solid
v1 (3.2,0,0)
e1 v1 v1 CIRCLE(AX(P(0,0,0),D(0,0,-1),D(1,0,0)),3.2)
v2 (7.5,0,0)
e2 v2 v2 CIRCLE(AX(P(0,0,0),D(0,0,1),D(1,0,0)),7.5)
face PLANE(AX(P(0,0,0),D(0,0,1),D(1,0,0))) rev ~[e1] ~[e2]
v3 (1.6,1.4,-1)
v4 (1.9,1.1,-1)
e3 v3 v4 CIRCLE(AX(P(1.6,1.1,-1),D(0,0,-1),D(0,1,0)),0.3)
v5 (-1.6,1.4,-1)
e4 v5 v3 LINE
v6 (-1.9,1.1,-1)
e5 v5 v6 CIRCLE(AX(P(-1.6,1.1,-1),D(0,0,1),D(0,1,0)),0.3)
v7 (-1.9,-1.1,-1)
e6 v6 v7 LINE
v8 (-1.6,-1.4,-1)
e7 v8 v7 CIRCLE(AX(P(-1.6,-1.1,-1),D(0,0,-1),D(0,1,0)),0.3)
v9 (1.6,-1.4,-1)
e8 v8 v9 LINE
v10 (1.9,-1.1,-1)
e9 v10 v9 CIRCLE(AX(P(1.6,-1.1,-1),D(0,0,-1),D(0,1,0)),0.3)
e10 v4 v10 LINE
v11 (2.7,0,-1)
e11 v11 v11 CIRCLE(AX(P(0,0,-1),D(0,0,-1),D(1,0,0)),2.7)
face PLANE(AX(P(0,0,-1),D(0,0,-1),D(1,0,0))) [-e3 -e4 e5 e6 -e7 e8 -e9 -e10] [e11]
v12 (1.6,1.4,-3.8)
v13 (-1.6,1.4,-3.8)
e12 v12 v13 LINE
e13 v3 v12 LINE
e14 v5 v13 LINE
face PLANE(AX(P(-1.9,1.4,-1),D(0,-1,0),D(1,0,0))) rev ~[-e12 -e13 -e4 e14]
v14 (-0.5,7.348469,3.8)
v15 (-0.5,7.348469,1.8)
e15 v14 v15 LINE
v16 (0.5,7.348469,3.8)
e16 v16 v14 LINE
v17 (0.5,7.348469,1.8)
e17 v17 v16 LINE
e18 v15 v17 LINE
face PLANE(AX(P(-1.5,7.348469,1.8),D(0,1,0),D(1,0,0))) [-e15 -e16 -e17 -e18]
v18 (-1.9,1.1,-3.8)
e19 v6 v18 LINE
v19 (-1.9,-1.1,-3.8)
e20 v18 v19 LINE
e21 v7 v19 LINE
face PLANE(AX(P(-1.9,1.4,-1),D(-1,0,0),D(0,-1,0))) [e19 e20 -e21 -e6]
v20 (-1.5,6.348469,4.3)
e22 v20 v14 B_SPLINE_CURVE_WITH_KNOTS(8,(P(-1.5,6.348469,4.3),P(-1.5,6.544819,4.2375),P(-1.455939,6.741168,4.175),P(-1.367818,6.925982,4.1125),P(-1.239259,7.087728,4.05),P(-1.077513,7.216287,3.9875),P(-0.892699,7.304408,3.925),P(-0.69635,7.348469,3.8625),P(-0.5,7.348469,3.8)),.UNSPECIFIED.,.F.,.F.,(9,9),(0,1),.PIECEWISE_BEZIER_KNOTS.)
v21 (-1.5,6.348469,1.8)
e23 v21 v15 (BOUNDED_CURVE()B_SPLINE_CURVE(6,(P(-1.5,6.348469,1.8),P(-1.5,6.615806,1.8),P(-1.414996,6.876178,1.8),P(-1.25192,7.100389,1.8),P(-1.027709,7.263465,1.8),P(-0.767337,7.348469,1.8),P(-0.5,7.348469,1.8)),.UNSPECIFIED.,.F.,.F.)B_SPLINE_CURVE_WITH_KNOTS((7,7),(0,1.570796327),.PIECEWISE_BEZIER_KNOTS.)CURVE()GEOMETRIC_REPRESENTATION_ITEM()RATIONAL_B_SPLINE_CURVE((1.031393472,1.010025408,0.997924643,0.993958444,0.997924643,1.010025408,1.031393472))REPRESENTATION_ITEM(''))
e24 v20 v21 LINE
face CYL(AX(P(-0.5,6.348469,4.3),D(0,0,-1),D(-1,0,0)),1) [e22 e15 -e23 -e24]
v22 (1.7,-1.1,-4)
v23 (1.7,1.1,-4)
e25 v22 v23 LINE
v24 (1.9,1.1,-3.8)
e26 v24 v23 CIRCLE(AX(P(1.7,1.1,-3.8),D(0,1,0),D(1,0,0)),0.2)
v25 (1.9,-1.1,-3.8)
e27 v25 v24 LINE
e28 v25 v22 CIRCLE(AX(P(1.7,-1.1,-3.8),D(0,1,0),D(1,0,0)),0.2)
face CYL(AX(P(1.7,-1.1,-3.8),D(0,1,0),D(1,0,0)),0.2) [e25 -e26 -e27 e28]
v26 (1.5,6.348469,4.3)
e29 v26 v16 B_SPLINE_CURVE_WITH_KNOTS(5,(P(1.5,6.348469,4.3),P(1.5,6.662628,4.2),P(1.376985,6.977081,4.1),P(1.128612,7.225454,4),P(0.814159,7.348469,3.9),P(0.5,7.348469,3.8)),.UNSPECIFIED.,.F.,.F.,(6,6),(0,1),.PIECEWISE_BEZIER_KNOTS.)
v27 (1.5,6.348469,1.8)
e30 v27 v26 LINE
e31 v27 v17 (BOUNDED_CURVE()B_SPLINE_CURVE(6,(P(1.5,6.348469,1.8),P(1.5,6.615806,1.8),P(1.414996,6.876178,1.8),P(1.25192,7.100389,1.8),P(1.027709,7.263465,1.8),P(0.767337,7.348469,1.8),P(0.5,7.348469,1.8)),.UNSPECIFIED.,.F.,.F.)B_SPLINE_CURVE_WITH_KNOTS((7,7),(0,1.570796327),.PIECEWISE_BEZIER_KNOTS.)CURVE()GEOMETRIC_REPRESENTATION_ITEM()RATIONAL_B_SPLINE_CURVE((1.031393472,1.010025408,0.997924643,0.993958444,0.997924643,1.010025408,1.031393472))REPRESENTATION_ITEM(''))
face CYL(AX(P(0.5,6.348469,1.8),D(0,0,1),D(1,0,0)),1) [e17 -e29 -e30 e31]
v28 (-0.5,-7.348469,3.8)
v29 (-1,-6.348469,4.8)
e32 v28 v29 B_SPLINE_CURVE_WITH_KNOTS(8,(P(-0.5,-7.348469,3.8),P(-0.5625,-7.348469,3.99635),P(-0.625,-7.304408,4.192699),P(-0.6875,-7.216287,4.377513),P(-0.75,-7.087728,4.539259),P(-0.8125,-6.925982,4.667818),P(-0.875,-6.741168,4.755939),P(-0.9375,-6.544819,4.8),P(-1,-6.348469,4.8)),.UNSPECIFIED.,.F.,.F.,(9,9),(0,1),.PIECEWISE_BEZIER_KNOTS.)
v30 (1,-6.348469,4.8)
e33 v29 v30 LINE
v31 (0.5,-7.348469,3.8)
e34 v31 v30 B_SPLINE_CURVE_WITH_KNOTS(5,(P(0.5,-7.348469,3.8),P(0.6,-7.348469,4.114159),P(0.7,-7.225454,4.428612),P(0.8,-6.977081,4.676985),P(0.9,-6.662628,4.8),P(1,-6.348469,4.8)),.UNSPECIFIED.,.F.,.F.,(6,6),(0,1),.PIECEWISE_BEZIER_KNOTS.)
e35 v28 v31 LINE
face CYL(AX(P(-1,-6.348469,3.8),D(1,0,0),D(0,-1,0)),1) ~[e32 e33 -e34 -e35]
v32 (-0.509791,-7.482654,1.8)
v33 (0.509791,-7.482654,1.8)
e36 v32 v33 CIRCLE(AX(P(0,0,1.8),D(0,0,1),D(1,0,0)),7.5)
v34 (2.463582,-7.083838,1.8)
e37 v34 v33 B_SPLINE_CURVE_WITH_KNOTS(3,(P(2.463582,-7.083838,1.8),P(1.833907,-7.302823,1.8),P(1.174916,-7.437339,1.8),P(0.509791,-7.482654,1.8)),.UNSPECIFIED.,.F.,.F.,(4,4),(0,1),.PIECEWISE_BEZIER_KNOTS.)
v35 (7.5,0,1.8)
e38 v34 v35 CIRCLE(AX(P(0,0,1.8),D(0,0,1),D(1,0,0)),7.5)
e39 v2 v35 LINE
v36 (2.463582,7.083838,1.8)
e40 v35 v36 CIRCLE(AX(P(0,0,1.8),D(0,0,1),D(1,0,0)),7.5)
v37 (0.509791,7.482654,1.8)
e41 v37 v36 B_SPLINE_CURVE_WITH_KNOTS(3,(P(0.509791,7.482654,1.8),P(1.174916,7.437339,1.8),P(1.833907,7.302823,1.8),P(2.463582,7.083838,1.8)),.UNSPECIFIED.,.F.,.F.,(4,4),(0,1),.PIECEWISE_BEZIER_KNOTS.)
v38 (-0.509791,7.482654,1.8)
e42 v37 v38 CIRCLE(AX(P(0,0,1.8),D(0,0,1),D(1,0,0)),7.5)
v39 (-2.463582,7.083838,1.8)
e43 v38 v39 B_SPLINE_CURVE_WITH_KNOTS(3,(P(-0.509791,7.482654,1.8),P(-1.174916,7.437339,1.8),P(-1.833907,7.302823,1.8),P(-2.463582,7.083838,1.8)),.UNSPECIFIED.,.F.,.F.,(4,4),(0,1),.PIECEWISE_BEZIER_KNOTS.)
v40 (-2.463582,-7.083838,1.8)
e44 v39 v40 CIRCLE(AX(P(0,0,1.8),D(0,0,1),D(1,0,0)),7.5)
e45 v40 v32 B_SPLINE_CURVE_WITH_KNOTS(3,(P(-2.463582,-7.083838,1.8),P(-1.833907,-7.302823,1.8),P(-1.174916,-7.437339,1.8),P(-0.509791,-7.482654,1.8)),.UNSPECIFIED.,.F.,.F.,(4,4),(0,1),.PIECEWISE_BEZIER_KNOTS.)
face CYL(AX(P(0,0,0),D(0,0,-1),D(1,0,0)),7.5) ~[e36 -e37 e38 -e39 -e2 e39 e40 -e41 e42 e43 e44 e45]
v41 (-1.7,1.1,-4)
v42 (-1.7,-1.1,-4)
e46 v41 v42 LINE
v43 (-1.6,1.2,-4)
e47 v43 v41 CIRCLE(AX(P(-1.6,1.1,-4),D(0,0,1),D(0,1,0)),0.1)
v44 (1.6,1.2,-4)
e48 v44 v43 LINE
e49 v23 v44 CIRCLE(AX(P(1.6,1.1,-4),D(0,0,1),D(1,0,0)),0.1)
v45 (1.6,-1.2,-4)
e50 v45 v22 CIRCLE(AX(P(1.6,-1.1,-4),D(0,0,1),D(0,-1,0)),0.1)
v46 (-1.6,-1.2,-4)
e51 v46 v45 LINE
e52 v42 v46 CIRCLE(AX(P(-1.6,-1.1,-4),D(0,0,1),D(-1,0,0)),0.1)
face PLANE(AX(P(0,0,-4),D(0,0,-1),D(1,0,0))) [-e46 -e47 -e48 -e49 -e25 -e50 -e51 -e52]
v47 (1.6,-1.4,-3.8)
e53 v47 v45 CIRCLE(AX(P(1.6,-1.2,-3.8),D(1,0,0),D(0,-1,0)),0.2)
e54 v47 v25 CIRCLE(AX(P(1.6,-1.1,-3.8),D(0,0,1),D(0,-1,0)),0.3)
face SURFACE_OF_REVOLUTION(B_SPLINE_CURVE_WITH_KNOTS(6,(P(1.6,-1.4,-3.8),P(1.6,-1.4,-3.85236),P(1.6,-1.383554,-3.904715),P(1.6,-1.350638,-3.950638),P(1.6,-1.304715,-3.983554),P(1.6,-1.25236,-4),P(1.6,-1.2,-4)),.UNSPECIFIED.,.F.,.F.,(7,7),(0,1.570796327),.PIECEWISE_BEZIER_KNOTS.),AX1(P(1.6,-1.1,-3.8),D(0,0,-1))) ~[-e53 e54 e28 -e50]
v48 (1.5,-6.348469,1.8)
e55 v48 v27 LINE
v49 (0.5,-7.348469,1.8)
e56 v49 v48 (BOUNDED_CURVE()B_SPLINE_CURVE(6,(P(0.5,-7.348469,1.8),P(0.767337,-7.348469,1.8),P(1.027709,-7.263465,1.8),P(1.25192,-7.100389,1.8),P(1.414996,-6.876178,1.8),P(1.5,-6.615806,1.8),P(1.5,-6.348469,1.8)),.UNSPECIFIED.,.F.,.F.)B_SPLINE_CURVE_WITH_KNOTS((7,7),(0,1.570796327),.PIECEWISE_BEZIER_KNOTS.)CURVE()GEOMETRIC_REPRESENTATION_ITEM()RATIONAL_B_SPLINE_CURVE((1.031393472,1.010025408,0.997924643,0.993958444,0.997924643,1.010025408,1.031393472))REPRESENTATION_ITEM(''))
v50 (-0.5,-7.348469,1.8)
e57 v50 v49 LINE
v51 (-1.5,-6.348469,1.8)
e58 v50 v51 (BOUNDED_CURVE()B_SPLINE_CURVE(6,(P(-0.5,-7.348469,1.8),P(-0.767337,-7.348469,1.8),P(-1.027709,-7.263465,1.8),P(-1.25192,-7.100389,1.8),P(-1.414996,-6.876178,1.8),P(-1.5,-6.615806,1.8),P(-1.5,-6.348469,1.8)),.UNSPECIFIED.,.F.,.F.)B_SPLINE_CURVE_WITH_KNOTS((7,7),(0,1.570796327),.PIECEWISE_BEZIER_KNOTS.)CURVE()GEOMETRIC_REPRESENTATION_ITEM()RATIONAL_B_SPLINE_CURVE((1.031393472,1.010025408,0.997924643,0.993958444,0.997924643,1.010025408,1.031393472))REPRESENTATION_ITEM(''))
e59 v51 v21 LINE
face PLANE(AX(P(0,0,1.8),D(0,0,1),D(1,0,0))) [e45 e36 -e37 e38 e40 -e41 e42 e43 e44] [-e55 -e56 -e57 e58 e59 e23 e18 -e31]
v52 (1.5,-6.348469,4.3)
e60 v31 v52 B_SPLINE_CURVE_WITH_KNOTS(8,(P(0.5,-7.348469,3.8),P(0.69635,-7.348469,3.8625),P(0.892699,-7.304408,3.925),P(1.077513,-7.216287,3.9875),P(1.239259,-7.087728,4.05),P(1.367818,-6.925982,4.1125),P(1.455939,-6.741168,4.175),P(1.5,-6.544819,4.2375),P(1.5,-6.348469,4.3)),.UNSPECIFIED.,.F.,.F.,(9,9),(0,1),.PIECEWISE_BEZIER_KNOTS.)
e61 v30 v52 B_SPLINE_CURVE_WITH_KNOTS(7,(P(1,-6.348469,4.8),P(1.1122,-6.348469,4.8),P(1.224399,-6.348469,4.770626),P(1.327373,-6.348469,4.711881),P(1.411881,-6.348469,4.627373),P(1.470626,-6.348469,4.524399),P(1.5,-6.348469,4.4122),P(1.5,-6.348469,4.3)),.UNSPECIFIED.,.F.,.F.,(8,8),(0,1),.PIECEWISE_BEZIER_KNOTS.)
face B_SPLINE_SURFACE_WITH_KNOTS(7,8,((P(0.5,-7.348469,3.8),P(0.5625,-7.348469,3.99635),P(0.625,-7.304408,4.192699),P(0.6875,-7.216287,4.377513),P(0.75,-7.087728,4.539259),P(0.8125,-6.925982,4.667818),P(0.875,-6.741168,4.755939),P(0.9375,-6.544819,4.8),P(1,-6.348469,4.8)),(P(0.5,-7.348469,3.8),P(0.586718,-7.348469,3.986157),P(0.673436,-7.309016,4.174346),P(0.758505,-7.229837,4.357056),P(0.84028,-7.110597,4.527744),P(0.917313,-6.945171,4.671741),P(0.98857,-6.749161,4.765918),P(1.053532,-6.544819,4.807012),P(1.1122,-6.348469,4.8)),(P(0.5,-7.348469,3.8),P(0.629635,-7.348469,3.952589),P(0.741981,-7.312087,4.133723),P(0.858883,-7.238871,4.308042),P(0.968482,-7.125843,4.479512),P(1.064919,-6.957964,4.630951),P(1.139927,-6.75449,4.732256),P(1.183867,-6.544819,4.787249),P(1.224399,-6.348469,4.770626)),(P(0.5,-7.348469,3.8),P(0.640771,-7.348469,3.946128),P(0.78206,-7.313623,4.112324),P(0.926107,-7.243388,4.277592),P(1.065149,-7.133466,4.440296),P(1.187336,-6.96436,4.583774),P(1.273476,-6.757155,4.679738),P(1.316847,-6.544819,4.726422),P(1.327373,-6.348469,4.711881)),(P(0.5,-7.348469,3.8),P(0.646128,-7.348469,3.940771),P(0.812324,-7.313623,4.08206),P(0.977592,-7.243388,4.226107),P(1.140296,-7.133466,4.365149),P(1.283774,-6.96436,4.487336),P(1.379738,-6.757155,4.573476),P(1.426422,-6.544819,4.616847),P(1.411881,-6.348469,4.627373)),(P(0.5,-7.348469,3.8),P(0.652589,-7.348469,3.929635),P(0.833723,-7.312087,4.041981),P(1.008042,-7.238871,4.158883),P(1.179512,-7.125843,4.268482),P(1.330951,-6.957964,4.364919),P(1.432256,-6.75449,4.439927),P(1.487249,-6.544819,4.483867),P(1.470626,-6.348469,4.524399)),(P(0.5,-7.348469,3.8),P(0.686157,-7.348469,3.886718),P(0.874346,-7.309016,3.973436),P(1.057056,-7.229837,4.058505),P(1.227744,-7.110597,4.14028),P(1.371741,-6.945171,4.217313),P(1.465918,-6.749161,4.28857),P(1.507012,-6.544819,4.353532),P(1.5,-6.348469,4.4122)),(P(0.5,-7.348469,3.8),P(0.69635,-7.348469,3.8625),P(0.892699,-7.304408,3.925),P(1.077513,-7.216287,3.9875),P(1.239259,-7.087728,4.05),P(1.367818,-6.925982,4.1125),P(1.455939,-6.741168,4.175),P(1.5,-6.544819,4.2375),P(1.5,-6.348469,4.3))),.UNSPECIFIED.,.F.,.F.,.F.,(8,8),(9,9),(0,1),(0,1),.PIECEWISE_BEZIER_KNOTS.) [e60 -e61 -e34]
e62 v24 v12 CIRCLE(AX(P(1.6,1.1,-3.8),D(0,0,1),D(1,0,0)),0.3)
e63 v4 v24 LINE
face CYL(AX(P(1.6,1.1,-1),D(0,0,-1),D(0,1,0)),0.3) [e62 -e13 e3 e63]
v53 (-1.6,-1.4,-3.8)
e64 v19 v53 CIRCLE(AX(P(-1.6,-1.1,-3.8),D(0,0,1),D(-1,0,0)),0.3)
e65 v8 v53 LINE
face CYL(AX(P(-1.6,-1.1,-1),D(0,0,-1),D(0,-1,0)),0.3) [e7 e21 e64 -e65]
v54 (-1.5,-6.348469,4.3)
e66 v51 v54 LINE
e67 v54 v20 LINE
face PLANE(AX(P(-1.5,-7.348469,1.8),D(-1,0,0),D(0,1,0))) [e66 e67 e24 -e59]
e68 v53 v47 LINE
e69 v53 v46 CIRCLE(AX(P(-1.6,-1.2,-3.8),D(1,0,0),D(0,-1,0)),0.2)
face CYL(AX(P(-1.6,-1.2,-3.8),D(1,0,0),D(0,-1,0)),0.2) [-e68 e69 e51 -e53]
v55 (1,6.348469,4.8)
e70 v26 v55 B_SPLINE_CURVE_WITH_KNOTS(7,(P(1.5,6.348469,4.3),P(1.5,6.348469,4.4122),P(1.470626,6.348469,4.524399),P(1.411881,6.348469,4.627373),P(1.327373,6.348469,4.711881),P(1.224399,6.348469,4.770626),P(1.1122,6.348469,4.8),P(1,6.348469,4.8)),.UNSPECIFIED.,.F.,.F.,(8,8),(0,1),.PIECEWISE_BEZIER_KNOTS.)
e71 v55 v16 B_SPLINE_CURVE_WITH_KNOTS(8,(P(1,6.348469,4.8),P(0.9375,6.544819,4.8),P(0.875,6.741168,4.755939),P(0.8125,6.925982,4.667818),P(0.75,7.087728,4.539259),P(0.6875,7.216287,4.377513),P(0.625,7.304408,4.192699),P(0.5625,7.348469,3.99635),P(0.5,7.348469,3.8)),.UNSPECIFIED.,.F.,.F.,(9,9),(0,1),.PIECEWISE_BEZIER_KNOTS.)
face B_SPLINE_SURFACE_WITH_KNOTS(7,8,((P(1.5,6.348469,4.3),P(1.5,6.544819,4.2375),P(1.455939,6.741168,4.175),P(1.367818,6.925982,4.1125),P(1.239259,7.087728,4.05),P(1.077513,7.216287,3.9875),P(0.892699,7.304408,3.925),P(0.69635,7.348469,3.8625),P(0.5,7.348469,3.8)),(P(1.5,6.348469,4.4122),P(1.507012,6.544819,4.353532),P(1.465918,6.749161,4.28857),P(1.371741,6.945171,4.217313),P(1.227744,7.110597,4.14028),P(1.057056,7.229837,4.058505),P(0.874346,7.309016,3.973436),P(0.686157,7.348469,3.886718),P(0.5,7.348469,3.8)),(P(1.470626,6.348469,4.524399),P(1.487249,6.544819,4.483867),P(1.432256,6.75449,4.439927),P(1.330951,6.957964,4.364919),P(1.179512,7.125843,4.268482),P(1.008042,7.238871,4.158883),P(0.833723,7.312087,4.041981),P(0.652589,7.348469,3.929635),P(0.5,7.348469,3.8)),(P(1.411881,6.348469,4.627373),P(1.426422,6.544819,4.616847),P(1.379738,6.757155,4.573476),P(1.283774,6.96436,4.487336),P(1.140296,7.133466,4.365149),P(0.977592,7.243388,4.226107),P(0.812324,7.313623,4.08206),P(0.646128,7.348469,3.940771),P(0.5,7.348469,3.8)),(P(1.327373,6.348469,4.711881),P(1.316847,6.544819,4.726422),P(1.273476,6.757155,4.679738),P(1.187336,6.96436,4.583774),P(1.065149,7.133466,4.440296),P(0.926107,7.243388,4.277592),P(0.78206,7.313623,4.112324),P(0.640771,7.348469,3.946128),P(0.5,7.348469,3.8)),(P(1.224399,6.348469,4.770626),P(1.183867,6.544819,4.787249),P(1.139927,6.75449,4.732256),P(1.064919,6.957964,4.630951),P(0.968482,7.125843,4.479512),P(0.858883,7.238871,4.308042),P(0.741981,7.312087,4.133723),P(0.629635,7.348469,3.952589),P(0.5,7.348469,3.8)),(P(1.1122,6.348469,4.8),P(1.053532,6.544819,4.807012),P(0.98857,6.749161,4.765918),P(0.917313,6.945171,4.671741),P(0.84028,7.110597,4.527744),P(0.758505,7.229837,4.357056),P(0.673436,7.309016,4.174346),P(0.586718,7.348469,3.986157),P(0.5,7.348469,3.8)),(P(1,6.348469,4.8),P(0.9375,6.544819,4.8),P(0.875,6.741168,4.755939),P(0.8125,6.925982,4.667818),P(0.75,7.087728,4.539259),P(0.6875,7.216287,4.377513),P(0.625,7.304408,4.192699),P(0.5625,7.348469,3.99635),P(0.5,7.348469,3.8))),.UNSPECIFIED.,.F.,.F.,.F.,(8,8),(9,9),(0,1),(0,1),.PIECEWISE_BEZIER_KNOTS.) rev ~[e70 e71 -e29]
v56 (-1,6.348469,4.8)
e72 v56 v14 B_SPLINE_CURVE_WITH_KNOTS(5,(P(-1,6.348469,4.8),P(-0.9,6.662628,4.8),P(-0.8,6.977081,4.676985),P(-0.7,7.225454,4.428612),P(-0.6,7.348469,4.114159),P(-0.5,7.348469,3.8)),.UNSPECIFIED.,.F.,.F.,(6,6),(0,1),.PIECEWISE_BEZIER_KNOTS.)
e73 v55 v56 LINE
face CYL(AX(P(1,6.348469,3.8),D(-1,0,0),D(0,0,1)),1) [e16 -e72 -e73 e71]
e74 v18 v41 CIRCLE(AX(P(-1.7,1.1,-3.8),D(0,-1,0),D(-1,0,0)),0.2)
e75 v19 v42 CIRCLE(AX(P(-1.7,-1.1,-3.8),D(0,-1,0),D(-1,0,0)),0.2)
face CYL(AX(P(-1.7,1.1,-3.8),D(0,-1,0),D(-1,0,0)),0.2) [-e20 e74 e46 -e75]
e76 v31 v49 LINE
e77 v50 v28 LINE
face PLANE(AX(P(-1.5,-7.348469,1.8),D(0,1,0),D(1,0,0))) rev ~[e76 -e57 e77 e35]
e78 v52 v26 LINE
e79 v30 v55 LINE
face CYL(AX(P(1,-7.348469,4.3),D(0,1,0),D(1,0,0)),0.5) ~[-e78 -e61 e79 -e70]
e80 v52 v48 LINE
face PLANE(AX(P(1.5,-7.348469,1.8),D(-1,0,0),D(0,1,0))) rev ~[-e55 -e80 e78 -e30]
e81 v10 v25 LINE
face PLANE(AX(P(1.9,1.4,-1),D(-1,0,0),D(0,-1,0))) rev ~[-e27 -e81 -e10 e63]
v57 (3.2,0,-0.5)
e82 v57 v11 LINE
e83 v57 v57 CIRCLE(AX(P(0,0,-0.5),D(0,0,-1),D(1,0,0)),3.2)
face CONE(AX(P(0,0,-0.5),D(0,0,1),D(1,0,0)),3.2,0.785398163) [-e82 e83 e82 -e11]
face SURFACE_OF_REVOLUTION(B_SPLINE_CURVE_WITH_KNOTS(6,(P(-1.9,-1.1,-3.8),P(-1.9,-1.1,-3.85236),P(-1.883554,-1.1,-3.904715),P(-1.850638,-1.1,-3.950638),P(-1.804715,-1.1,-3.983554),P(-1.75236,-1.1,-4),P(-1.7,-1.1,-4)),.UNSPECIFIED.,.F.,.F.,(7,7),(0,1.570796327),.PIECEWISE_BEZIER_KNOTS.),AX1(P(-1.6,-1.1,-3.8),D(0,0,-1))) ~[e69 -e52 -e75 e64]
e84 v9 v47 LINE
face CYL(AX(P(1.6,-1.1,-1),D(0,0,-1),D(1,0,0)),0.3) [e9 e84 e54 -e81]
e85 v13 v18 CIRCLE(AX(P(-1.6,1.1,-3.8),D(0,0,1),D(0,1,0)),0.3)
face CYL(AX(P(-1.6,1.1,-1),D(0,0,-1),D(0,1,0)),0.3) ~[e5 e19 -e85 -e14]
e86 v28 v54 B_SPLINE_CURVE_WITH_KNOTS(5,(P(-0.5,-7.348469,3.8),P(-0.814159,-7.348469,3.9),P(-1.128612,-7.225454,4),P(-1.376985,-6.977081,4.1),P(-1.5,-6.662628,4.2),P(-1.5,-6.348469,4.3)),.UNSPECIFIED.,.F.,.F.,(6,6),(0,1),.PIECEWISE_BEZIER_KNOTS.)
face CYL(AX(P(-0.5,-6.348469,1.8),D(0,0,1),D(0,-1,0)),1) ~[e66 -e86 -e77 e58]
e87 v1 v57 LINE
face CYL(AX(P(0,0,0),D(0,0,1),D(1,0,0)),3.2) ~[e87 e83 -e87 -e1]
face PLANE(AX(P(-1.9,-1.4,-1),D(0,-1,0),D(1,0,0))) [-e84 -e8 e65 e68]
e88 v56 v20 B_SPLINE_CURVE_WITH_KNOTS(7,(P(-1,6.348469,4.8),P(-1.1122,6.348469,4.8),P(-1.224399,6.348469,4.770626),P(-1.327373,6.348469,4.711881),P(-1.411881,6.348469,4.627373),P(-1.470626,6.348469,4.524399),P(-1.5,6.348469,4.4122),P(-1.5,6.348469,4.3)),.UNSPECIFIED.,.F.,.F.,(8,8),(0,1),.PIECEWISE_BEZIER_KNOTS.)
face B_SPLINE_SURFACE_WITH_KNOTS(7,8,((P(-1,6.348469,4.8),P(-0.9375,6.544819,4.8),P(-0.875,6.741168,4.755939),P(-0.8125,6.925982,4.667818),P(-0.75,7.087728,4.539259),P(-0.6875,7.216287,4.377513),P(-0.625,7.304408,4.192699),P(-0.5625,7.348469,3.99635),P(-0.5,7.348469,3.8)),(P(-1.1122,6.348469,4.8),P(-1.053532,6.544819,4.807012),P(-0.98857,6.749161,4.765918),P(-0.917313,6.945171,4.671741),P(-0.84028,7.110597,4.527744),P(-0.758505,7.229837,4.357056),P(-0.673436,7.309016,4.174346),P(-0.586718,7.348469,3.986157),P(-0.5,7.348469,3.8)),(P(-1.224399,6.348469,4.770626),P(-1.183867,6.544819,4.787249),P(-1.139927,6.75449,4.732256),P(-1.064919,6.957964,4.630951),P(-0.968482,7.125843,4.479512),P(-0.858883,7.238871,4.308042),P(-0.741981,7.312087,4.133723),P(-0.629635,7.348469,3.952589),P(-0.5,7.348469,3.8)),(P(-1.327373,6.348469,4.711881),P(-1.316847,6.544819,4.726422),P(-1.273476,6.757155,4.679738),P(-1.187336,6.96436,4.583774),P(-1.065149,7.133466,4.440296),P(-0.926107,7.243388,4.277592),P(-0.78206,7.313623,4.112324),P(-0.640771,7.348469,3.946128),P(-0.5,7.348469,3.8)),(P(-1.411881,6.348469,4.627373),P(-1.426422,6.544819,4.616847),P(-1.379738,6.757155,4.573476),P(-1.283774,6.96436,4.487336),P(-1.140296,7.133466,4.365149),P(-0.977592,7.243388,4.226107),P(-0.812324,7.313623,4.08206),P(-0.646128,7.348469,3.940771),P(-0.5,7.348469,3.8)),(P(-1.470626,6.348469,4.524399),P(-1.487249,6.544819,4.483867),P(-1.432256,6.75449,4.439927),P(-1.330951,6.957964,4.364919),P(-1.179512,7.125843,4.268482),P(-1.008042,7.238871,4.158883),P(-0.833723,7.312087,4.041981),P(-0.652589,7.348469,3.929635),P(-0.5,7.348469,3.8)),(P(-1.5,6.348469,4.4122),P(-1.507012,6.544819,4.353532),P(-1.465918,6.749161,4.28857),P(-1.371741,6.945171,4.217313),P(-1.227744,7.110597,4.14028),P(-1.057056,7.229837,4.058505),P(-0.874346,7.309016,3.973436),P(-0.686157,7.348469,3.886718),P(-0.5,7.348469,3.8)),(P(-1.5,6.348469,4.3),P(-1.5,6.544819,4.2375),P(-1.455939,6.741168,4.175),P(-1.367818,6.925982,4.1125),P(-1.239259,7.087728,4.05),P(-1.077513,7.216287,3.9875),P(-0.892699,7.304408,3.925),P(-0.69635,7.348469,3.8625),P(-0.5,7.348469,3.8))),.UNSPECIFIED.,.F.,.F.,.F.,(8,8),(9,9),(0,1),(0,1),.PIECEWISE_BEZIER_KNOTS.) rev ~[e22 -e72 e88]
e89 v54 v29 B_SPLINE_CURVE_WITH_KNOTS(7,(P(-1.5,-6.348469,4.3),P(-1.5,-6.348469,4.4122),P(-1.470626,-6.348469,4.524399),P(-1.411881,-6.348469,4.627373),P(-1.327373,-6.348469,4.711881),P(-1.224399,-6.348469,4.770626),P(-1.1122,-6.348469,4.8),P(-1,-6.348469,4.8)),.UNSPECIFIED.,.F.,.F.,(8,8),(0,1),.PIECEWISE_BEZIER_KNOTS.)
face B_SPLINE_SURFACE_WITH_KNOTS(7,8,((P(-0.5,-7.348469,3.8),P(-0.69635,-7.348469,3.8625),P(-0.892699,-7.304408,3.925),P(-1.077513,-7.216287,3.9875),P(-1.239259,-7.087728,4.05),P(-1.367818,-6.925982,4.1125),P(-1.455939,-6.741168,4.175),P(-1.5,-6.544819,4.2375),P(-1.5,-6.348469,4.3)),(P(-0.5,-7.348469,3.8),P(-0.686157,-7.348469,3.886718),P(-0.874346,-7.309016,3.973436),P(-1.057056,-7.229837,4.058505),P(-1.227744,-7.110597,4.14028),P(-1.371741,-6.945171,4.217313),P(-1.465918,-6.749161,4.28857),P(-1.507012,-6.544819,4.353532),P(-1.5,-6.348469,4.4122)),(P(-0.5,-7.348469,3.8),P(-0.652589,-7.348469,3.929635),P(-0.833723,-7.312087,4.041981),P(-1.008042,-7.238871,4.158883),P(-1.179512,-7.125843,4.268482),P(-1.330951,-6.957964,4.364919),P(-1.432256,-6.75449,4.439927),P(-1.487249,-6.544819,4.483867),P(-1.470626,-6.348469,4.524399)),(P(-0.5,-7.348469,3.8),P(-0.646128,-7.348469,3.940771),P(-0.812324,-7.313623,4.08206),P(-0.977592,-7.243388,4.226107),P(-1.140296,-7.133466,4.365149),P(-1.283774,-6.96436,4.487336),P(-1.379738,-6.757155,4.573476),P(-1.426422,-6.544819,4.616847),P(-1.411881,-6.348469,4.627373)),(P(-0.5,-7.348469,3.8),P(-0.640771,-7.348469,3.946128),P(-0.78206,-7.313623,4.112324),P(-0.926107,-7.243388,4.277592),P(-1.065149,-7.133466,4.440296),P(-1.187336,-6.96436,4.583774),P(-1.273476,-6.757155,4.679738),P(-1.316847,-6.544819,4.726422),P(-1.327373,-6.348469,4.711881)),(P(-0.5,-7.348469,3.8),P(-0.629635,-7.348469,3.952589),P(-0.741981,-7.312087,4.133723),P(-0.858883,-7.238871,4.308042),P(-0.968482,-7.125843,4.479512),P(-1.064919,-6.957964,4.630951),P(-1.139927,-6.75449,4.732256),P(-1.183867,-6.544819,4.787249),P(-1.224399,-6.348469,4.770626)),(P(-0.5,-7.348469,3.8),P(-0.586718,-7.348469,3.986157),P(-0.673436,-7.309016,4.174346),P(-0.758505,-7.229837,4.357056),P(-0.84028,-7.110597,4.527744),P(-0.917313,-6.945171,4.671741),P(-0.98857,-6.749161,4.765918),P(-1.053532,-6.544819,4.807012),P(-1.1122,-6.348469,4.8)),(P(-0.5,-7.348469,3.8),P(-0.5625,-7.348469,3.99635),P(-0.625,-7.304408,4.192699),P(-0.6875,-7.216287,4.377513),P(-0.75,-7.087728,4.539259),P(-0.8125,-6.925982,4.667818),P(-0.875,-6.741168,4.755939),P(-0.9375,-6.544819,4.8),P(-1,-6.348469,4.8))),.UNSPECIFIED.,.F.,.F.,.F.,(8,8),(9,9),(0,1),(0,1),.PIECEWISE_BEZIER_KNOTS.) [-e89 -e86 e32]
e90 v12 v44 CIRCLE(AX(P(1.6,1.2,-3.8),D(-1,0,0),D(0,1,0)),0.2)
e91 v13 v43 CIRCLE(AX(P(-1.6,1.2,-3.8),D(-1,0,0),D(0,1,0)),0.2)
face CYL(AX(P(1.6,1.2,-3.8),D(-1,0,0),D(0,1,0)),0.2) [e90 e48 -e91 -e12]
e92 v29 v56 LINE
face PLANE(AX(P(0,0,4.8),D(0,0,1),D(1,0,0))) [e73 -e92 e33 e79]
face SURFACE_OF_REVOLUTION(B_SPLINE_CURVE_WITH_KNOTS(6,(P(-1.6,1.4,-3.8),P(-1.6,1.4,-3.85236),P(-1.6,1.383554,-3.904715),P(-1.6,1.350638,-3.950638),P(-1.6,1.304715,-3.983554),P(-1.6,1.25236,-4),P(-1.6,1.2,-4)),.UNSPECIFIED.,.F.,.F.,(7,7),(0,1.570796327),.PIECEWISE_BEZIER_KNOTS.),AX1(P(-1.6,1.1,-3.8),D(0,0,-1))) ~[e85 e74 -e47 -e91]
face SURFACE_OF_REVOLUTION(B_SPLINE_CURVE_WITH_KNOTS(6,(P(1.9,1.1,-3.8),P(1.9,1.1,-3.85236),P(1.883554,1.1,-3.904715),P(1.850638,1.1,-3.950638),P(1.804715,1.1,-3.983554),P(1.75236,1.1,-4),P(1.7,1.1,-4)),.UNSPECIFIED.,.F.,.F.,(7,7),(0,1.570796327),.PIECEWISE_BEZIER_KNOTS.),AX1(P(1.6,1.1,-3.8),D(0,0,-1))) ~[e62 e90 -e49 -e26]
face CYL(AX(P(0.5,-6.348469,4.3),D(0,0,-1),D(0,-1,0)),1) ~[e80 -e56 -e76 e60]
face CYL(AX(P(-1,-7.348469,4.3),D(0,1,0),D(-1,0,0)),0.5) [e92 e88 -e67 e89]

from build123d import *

# Parameters (mm, degrees)
SKETCH008_R     = 7.5
PAD004_DEPTH    = 1.8
SKETCH009_W     = 3
SKETCH009_H     = 14.696938
PAD005_DEPTH    = 3
SKETCH010_R     = 3.2
PAD006_DEPTH    = 1
CHAMFER003_SIZE = 0.5
SKETCH011_W     = 3.8
SKETCH011_H     = 2.8
PAD007_DEPTH    = 3
FILLET004_R     = 0.3
FILLET005_R     = 0.2
FILLET006_R     = 0.5
FILLET_R        = 1
FILLET007_R     = 1


with BuildPart() as part:
    # Sketch008 → Pad004 (new body)
    with BuildSketch(Plane.XY):
        Circle(SKETCH008_R)
    extrude(amount=PAD004_DEPTH)

    # Sketch009 (on Face3 of Pad004) → Pad005 (join)
    with BuildSketch(Plane.XY.offset(1.8)):
        Rectangle(SKETCH009_W, SKETCH009_H)
    extrude(amount=PAD005_DEPTH)

    # Sketch010 → Pad006 (join)
    with BuildSketch(Plane(origin=(0, 0, 0), x_dir=(1, 0, 0), z_dir=(0, 0, -1))):
        Circle(SKETCH010_R)
    extrude(amount=PAD006_DEPTH)

    # Chamfer003
    chamfer003_edges = [part.edges().sort_by_distance(p)[0] for p in [
        (-3.2, 0, -1),
    ]]
    chamfer(chamfer003_edges, length=CHAMFER003_SIZE)

    # Sketch011 (on Face4 of Chamfer003) → Pad007 (join)
    with BuildSketch(Plane(origin=(0, 0, -1), x_dir=(1, 0, 0), z_dir=(0, 0, -1))):
        Rectangle(SKETCH011_W, SKETCH011_H)
    extrude(amount=PAD007_DEPTH)

    # Fillet004
    fillet004_edges = [part.edges().sort_by_distance(p)[0] for p in [
        (-1.9, 1.4, -2.5),
        (-1.9, -1.4, -2.5),
        (1.9, 1.4, -2.5),
        (1.9, -1.4, -2.5),
    ]]
    fillet(fillet004_edges, radius=FILLET004_R)

    # Fillet005
    fillet005_edges = [part.edges().sort_by_distance(p)[0] for p in [
        (0, -1.4, -4),
        (1.812132, -1.312132, -4),
        (1.9, 0, -4),
        (1.812132, 1.312132, -4),
        (0, 1.4, -4),
        (-1.812132, 1.312132, -4),
        (-1.9, 0, -4),
        (-1.812132, -1.312132, -4),
    ]]
    fillet(fillet005_edges, radius=FILLET005_R)

    # Fillet006
    fillet006_edges = [part.edges().sort_by_distance(p)[0] for p in [
        (-1.5, 0, 4.8),
        (1.5, 0, 4.8),
    ]]
    fillet(fillet006_edges, radius=FILLET006_R)

    # Fillet
    fillet_edges = [part.edges().sort_by_distance(p)[0] for p in [
        (-1.5, -7.348469, 3.05),
        (1.5, -7.348469, 3.05),
        (1.353553, -7.348469, 4.653553),
        (0, -7.348469, 4.8),
        (-1.353553, -7.348469, 4.653553),
    ]]
    fillet(fillet_edges, radius=FILLET_R)

    # Fillet007
    fillet007_edges = [part.edges().sort_by_distance(p)[0] for p in [
        (1.5, 7.348469, 3.05),
        (1.353553, 7.348469, 4.653553),
        (0, 7.348469, 4.8),
        (-1.353553, 7.348469, 4.653553),
        (-1.5, 7.348469, 3.05),
    ]]
    fillet(fillet007_edges, radius=FILLET007_R)


solid = part.part
